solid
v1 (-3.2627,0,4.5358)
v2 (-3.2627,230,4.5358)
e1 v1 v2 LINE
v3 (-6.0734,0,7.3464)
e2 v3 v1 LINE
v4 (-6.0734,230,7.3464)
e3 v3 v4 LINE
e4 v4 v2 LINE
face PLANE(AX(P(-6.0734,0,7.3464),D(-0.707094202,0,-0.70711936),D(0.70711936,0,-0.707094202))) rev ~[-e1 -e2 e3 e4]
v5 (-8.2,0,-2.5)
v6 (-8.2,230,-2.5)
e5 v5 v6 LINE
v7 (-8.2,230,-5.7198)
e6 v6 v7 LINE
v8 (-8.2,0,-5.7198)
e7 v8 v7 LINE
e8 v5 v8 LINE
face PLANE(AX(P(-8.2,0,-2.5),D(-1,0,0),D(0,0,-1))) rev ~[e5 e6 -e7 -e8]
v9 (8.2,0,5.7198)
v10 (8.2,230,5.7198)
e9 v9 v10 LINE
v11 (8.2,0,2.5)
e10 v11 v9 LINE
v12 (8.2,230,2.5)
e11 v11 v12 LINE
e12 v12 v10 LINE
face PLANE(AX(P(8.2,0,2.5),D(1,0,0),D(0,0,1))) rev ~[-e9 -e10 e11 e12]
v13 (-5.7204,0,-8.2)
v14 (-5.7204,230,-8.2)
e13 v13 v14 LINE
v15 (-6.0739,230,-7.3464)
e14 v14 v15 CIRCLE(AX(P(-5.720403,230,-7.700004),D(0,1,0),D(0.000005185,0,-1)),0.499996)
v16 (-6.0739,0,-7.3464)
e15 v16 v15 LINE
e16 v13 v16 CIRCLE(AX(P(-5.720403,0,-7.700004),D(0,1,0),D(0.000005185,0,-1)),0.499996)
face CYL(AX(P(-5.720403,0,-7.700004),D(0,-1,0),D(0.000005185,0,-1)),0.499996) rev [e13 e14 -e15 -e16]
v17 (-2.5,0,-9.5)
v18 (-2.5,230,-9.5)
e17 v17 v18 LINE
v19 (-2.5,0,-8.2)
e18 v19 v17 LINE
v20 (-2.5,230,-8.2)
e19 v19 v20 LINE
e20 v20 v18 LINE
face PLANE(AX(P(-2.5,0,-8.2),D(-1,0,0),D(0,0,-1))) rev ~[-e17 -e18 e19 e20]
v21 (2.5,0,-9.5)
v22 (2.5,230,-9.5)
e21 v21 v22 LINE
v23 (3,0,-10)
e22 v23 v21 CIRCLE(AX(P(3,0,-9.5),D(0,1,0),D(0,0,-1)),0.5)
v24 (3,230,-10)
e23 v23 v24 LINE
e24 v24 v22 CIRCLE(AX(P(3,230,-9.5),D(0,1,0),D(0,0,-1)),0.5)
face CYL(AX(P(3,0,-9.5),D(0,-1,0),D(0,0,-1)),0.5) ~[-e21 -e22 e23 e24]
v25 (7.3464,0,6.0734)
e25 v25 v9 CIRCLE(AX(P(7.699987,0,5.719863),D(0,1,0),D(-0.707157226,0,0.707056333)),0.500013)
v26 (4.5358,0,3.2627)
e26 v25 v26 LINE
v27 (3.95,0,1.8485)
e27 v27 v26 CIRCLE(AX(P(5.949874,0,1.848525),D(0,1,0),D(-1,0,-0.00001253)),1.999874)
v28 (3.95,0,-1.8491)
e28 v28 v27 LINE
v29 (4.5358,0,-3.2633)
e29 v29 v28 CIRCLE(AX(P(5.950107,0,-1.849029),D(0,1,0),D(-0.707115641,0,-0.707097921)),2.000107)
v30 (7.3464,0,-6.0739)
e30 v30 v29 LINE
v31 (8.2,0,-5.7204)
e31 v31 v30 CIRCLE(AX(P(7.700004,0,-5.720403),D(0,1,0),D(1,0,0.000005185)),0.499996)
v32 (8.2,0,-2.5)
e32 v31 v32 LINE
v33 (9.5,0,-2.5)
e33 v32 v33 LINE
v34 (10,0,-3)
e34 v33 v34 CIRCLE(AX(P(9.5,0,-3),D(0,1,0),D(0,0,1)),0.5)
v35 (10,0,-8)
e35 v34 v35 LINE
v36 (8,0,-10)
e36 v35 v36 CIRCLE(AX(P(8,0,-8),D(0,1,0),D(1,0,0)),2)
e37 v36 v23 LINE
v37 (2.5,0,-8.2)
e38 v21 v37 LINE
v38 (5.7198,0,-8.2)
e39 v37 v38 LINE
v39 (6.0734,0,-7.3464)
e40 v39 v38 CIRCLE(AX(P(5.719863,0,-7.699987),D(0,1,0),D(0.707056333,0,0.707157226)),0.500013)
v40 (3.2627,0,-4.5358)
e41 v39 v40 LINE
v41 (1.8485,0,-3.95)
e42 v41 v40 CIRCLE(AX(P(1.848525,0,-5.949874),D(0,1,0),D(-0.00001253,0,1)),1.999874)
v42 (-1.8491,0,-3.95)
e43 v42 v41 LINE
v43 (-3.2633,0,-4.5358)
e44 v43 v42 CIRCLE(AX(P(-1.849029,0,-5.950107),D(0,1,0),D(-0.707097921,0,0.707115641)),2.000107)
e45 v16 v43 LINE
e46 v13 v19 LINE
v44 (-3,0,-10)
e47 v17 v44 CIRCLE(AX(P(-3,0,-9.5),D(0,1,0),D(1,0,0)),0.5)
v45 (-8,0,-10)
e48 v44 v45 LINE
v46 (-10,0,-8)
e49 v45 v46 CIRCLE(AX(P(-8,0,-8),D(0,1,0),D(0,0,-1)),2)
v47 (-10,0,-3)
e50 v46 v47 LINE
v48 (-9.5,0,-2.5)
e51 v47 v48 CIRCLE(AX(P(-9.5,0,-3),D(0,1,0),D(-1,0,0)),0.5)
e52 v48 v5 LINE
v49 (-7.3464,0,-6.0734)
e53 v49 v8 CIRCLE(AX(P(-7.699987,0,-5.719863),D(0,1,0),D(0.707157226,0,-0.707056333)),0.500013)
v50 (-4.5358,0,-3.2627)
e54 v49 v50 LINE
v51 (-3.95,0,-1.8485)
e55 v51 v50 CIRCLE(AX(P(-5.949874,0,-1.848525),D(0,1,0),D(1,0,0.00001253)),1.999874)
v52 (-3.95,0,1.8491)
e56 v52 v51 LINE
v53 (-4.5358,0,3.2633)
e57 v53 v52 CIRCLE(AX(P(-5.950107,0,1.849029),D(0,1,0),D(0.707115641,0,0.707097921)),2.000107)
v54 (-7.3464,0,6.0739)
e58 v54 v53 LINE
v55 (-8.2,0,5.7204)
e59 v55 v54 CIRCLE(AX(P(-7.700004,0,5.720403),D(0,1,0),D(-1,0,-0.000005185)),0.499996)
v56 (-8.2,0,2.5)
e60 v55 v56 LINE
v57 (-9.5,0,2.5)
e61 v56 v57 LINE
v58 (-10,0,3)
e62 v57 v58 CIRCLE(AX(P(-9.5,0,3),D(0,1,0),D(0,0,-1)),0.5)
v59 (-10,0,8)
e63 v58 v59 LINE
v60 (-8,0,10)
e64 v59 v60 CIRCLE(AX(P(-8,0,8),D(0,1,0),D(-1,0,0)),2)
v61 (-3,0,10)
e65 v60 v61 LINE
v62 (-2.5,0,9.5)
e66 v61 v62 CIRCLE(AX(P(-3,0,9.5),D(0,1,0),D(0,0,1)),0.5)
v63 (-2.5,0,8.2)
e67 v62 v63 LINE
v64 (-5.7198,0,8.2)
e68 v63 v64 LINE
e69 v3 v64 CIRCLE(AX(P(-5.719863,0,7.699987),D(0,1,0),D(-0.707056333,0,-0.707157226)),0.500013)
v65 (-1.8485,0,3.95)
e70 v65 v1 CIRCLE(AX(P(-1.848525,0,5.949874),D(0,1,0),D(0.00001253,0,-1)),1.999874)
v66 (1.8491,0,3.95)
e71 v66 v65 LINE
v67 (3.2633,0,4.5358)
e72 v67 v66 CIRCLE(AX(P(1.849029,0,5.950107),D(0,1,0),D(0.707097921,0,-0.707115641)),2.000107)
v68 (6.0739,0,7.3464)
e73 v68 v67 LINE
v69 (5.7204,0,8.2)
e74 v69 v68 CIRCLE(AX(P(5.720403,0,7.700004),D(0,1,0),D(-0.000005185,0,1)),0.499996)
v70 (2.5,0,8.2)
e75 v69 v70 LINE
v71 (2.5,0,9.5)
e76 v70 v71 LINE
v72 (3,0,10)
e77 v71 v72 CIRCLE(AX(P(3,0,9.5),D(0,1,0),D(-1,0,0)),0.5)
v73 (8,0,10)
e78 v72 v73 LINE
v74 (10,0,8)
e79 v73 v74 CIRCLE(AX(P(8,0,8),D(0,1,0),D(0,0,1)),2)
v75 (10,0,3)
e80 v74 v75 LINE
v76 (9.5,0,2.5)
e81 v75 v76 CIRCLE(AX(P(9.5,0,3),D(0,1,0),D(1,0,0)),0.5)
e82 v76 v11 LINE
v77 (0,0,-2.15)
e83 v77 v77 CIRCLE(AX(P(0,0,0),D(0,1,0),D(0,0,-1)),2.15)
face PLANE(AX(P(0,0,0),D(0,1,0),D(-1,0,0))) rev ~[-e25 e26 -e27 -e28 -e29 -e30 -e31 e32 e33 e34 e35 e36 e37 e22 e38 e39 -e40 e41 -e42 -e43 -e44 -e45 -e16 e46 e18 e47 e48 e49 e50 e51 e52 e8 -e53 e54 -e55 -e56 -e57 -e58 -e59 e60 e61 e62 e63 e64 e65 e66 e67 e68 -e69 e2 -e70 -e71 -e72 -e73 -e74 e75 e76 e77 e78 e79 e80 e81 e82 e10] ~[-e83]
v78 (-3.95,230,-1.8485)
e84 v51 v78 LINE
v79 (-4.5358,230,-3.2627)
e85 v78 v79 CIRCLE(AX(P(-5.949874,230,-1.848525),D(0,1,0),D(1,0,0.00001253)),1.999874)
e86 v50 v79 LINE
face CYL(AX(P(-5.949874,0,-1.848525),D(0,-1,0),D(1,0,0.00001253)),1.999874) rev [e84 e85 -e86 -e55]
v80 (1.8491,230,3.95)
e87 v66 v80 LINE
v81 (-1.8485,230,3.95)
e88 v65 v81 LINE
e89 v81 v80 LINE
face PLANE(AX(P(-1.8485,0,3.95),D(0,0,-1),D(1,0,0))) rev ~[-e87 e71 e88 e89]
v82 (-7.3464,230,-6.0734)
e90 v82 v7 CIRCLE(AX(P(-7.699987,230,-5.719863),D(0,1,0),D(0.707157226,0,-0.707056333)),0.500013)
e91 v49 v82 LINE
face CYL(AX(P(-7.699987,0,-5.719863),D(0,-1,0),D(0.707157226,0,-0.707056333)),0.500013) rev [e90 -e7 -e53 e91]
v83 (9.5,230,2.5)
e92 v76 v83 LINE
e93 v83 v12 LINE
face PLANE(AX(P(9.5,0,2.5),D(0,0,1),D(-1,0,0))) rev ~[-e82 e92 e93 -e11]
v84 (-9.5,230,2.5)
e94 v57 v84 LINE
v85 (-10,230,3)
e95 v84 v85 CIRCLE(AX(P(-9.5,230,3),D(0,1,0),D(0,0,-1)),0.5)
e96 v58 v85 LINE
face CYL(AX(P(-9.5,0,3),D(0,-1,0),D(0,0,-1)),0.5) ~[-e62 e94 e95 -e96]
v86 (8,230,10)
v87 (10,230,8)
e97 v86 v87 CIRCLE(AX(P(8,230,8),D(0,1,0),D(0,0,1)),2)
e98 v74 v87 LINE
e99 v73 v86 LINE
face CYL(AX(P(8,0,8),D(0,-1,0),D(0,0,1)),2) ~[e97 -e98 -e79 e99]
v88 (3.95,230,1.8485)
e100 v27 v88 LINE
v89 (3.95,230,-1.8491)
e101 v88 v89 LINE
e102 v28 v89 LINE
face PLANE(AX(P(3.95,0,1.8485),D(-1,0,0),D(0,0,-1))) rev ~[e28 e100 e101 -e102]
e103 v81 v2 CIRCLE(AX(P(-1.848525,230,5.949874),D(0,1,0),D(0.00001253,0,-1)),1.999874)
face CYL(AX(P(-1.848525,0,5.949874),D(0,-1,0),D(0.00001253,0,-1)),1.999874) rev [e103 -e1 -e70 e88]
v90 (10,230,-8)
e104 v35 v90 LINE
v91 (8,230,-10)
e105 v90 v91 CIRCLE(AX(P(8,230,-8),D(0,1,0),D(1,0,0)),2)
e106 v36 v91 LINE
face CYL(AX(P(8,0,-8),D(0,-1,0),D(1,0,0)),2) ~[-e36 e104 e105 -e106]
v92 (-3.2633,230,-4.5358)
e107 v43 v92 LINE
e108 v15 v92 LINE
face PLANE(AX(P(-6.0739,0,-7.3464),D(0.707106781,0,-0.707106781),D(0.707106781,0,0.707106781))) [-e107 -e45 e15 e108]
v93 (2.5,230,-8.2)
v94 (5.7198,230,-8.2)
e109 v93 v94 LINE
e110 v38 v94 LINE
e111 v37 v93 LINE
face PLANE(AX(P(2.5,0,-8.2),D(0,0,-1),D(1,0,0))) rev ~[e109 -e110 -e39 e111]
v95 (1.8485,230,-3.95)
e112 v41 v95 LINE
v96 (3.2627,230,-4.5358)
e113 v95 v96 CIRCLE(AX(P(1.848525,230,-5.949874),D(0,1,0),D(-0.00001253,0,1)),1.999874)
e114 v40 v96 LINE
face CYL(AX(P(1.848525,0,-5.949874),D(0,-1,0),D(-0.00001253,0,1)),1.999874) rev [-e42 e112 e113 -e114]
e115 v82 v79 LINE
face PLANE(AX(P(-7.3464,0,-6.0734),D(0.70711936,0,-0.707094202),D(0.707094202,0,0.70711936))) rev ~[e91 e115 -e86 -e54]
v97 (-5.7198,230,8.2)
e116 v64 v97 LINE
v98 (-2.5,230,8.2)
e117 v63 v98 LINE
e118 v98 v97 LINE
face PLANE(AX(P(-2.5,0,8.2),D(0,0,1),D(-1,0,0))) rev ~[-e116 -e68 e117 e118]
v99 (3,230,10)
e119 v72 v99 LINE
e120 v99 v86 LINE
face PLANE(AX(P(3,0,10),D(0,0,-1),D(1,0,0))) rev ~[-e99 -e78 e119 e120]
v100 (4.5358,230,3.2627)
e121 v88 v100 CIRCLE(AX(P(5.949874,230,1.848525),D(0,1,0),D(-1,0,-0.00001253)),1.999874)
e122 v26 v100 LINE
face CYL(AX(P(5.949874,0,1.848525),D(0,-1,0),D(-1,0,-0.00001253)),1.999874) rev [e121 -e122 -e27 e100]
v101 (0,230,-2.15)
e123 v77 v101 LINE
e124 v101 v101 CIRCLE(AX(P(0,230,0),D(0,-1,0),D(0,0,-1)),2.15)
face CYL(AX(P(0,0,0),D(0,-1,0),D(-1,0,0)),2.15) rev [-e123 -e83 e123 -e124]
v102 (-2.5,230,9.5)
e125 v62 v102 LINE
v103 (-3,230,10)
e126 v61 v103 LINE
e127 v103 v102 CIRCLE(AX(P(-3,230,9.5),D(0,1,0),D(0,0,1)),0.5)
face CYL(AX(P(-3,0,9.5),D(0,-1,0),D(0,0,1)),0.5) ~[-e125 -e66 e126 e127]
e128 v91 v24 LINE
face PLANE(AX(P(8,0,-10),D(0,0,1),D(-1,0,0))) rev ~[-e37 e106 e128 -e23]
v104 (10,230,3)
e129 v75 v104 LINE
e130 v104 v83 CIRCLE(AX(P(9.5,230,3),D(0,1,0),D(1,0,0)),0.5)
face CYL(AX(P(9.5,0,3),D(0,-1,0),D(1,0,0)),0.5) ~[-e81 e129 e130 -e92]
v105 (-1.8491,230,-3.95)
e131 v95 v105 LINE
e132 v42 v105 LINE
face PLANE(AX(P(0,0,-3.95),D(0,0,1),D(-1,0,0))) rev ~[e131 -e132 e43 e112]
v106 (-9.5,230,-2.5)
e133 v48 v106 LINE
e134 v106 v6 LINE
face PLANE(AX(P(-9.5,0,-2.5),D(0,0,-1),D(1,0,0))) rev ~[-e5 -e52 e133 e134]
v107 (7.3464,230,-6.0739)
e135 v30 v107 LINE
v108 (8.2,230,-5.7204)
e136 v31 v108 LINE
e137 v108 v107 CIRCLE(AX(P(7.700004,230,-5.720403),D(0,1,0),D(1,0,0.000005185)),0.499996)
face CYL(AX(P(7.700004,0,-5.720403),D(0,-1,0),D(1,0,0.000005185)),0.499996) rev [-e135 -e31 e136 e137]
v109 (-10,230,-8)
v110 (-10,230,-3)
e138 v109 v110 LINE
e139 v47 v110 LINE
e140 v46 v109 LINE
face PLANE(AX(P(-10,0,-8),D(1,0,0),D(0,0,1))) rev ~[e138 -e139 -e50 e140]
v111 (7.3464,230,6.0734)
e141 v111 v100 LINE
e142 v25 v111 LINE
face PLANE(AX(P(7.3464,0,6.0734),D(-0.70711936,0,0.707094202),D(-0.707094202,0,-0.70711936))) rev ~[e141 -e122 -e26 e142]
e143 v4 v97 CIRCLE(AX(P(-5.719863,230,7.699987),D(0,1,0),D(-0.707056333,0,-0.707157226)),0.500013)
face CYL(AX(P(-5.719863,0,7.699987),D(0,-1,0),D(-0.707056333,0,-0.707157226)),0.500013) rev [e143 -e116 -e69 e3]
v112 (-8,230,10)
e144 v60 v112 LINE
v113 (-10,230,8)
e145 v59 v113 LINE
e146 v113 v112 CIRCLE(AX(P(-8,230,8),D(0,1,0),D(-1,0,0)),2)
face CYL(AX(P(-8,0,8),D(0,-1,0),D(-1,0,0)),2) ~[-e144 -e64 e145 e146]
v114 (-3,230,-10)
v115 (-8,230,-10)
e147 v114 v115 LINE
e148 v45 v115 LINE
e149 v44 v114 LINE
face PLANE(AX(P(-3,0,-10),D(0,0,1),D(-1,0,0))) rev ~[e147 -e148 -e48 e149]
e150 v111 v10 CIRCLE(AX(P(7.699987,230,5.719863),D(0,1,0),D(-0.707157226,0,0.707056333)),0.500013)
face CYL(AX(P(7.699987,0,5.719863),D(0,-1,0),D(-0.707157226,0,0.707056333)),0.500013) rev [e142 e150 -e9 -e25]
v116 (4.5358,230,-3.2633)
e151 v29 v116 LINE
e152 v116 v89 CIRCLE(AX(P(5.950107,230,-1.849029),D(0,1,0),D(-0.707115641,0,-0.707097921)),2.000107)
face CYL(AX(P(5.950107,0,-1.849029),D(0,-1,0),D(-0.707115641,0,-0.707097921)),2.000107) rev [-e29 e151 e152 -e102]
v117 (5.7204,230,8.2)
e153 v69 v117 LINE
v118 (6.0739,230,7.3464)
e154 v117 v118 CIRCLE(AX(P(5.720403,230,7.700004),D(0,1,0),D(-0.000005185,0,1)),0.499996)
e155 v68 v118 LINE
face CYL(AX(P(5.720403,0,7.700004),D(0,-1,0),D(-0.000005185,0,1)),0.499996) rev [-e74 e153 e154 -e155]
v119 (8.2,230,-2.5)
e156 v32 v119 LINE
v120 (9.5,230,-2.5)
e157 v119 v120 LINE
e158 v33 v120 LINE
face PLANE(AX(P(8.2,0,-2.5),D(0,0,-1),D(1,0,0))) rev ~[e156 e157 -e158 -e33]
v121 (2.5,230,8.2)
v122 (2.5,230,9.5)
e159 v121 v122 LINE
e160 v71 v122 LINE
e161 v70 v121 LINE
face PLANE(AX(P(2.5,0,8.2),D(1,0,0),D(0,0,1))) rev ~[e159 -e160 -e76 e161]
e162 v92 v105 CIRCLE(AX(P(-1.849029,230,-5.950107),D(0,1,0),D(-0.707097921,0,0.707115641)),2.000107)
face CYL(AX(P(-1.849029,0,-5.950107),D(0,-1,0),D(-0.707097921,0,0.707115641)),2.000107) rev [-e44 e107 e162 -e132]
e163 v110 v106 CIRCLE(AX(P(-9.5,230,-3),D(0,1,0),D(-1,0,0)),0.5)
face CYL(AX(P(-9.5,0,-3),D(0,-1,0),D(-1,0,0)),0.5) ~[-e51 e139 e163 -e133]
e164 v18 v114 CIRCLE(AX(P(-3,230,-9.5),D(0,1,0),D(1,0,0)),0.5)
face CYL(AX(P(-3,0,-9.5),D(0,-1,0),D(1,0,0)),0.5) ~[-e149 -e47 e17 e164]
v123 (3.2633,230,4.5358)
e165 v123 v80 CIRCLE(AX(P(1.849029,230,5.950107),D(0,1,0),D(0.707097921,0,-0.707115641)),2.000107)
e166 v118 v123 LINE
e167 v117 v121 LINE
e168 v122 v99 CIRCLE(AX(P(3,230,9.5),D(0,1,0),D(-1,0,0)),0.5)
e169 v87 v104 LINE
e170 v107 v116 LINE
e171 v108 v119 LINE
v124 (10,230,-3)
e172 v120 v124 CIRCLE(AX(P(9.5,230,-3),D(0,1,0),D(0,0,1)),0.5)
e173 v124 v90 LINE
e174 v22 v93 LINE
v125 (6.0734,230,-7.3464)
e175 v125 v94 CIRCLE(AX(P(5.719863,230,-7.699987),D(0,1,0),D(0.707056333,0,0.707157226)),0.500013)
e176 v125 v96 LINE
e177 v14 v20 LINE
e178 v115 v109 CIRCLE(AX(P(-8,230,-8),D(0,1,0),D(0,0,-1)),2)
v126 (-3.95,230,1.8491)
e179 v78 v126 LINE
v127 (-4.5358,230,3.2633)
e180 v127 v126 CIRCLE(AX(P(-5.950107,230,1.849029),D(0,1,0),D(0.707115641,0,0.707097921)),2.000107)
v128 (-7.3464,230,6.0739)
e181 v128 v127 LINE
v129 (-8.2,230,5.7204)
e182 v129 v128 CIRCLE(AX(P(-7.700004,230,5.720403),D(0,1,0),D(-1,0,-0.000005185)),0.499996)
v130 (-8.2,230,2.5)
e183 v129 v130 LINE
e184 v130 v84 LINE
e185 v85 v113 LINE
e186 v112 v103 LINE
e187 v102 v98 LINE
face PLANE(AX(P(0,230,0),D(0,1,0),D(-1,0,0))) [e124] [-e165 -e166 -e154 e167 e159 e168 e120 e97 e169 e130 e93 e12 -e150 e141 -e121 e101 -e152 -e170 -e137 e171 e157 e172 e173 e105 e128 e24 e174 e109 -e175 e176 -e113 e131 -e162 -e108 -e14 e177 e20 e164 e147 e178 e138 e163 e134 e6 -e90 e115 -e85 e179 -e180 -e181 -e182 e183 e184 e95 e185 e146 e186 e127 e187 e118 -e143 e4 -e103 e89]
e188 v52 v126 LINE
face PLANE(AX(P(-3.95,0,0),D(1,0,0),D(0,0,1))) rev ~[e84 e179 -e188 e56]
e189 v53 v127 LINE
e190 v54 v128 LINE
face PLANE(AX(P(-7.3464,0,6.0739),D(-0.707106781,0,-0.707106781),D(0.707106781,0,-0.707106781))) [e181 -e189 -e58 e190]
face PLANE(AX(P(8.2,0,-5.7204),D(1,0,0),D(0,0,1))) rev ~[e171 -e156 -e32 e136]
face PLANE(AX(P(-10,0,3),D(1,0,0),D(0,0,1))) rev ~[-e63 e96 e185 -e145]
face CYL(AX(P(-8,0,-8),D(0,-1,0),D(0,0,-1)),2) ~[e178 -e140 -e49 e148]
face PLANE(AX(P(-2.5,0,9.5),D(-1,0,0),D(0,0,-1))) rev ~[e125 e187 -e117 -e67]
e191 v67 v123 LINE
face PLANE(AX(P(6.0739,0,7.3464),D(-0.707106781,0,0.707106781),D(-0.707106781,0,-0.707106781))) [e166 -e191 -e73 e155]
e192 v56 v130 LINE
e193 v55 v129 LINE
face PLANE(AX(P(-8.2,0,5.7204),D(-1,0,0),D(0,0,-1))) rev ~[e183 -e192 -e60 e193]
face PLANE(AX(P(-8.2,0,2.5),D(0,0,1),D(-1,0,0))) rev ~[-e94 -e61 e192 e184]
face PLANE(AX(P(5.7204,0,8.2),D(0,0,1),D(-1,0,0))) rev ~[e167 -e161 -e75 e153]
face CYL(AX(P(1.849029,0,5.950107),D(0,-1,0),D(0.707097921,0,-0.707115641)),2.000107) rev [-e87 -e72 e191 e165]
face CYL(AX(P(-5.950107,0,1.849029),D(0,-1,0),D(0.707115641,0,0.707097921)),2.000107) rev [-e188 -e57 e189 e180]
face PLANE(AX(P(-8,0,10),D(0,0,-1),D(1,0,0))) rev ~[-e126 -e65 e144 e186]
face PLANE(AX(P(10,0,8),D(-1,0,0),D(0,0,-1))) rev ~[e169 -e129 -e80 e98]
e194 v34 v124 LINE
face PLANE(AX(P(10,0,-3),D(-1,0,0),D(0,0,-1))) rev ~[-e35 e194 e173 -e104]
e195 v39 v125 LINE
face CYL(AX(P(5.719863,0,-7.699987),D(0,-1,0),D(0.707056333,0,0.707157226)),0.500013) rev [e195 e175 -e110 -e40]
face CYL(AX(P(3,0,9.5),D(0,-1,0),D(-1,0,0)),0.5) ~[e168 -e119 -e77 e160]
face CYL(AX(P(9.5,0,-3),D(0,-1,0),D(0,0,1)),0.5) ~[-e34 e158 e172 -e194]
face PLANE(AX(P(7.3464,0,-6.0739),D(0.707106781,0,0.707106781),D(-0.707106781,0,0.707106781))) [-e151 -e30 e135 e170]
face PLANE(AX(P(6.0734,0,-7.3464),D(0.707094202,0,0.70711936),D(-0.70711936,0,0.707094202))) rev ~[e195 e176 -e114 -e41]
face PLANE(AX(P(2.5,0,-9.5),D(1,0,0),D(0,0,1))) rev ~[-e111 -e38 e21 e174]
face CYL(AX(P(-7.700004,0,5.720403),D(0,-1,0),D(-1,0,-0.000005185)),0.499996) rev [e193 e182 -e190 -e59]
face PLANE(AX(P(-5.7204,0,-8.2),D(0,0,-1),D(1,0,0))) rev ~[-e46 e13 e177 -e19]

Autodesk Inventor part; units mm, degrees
ref_plane "YZ Plane" through (0, 0, 0) normal (1, 0, 0) x (0, 1, 0)
ref_plane "XZ Plane" through (0, 0, 0) normal (0, 1, 0) x (-1, 0, 0)
ref_plane "XY Plane" through (0, 0, 0) normal (0, 0, 1) x (1, 0, 0)
sketch "Sketch1" plane through (0, 0, 0) normal (0, 1, 0) x (-1, 0, 0)
  line L0 (8, 10) -> (3, 10)
  line L1 (10, 3) -> (10, 8)
  line L2 (2.5, 9.5) -> (2.5, 8.2)
  line L3 (2.5, 8.2) -> (5.7198, 8.2)
  line L4 (6.0734, 7.3464) -> (3.2627, 4.5358)
  line L5 (1.8485, 3.95) -> (0, 3.95)
  line L6 (0, 3.95) -> (0, 2.15)
  line L7 (0, 2.15) -> (0, 2.15)
  line L8 (2.15, 0) -> (2.15, 0)
  line L9 (2.15, 0) -> (3.95, 0)
  line L10 (8.2, 5.7204) -> (8.2, 2.5)
  line L11 (8.2, 2.5) -> (9.5, 2.5)
  line L12 (0, 29.0836) -> (0, -4.1523) construction
  line L13 (3.95, 0) -> (3.95, 1.8491)
  line L14 (7.3464, 6.0739) -> (4.5358, 3.2633)
  arc A0 (10, 8) -> (8, 10) centre (8, 8) ccw
  arc A1 (8.2, 5.7204) -> (7.3464, 6.0739) centre (7.7, 5.7204) ccw
  arc A2 (6.0734, 7.3464) -> (5.7198, 8.2) centre (5.7198, 7.7) ccw
  arc A3 (4.5358, 3.2633) -> (3.95, 1.8491) centre (5.95, 1.8491) ccw
  arc A4 (1.8485, 3.95) -> (3.2627, 4.5358) centre (1.8485, 5.95) ccw
  arc A5 (2.15, 0) -> (0, 2.15) centre (0, 0) ccw
  arc A6 (3, 10) -> (2.5, 9.5) centre (3, 9.5) ccw
  arc A7 (9.5, 2.5) -> (10, 3) centre (9.5, 3) ccw
  line L15 (18.5462, 0) -> (-9.9601, 0) construction
  line L16 (-3, 10) -> (-8, 10)
  arc A8 (-2.5, 9.5) -> (-3, 10) centre (-3, 9.5) ccw
  line L17 (-2.5, 8.2) -> (-2.5, 9.5)
  line L18 (-5.7204, 8.2) -> (-2.5, 8.2)
  arc A9 (-5.7204, 8.2) -> (-6.0739, 7.3464) centre (-5.7204, 7.7) ccw
  line L19 (-6.0739, 7.3464) -> (-3.2633, 4.5358)
  arc A10 (-3.2633, 4.5358) -> (-1.8491, 3.95) centre (-1.8491, 5.95) ccw
  line L20 (0, 3.95) -> (-1.8491, 3.95)
  line L21 (0, 2.15) -> (0, 3.95)
  arc A11 (0, 2.15) -> (-2.15, 0) centre (0, 0) ccw
  line L22 (-3.95, 0) -> (-2.15, 0)
  line L23 (-3.95, 1.8485) -> (-3.95, 0)
  arc A12 (-3.95, 1.8485) -> (-4.5358, 3.2627) centre (-5.95, 1.8485) ccw
  line L24 (-7.3464, 6.0734) -> (-4.5358, 3.2627)
  arc A13 (-7.3464, 6.0734) -> (-8.2, 5.7198) centre (-7.7, 5.7198) ccw
  line L25 (-8.2, 2.5) -> (-8.2, 5.7198)
  line L26 (-9.5, 2.5) -> (-8.2, 2.5)
  arc A14 (-10, 3) -> (-9.5, 2.5) centre (-9.5, 3) ccw
  line L27 (-10, 8) -> (-10, 3)
  arc A15 (-8, 10) -> (-10, 8) centre (-8, 8) ccw
  line L28 (-10, -3) -> (-10, -8)
  arc A16 (-9.5, -2.5) -> (-10, -3) centre (-9.5, -3) ccw
  line L29 (-8.2, -2.5) -> (-9.5, -2.5)
  line L30 (-8.2, -5.7204) -> (-8.2, -2.5)
  arc A17 (-8.2, -5.7204) -> (-7.3464, -6.0739) centre (-7.7, -5.7204) ccw
  line L31 (-7.3464, -6.0739) -> (-4.5358, -3.2633)
  arc A18 (-4.5358, -3.2633) -> (-3.95, -1.8491) centre (-5.95, -1.8491) ccw
  line L32 (-3.95, 0) -> (-3.95, -1.8491)
  line L33 (-2.15, 0) -> (-3.95, 0)
  arc A19 (-2.15, 0) -> (0, -2.15) centre (0, 0) ccw
  line L34 (0, -3.95) -> (0, -2.15)
  line L35 (-1.8485, -3.95) -> (0, -3.95)
  arc A20 (-1.8485, -3.95) -> (-3.2627, -4.5358) centre (-1.8485, -5.95) ccw
  line L36 (-6.0734, -7.3464) -> (-3.2627, -4.5358)
  arc A21 (-6.0734, -7.3464) -> (-5.7198, -8.2) centre (-5.7198, -7.7) ccw
  line L37 (-2.5, -8.2) -> (-5.7198, -8.2)
  line L38 (-2.5, -9.5) -> (-2.5, -8.2)
  arc A22 (-3, -10) -> (-2.5, -9.5) centre (-3, -9.5) ccw
  line L39 (-8, -10) -> (-3, -10)
  arc A23 (-10, -8) -> (-8, -10) centre (-8, -8) ccw
  line L40 (3, -10) -> (8, -10)
  arc A24 (2.5, -9.5) -> (3, -10) centre (3, -9.5) ccw
  line L41 (2.5, -8.2) -> (2.5, -9.5)
  line L42 (5.7204, -8.2) -> (2.5, -8.2)
  arc A25 (5.7204, -8.2) -> (6.0739, -7.3464) centre (5.7204, -7.7) ccw
  line L43 (6.0739, -7.3464) -> (3.2633, -4.5358)
  arc A26 (3.2633, -4.5358) -> (1.8491, -3.95) centre (1.8491, -5.95) ccw
  line L44 (0, -3.95) -> (1.8491, -3.95)
  line L45 (0, -2.15) -> (0, -3.95)
  arc A27 (0, -2.15) -> (2.15, 0) centre (0, 0) ccw
  line L46 (3.95, 0) -> (2.15, 0)
  line L47 (3.95, -1.8485) -> (3.95, 0)
  arc A28 (3.95, -1.8485) -> (4.5358, -3.2627) centre (5.95, -1.8485) ccw
  line L48 (7.3464, -6.0734) -> (4.5358, -3.2627)
  arc A29 (7.3464, -6.0734) -> (8.2, -5.7198) centre (7.7, -5.7198) ccw
  line L49 (8.2, -2.5) -> (8.2, -5.7198)
  line L50 (9.5, -2.5) -> (8.2, -2.5)
  arc A30 (10, -3) -> (9.5, -2.5) centre (9.5, -3) ccw
  line L51 (10, -8) -> (10, -3)
  arc A31 (8, -10) -> (10, -8) centre (8, -8) ccw
  point P0 (0, 0)
  point P1 (3.95, 2.6775)
  point P2 (-2.6775, 3.95)
  point P3 (0, 0)
  point P4 (-3.95, -2.6775)
  point P5 (0, 0)
  point P6 (2.6775, -3.95)
  point P7 (0, 0)
  dimension "d1" = 2.5
  dimension "d2" = 2.5
  dimension "d3" = 1.8
  dimension "d4" = 1.8
  dimension "d5" = 45
  dimension "d6" = 2.15
  dimension "d7" = 2.15
  dimension "d8" = 1.8
  dimension "d11" = 10
  dimension "d12" = 10
  dimension "d14" = 1.8
  dimension "d15" = 1.8
  dimension "d16" = 2.6775
  dimension "d18" = 2
  dimension "d19" = 0.5
  dimension "d20" = 2
  dimension "d21" = 2.15
  dimension "d22" = 0.5
  dimension "d25" = 360
extrude "Profil_20x20" add sketch "Sketch1" along normal blind 230 contours A0 L1 A7 L11 L10 A1 L14 A3 L13 L9 A5 L6 L5 A4 L4 A2 L3 L2 A6 L0 | L6 A11 L22 L23 A12 L24 A13 L25 L26 A14 L27 A15 L16 A8 L17 L18 A9 L19 A10 L20 | L47 A28 L48 A29 L49 L50 A30 L51 A31 L40 A24 L41 L42 A25 L43 A26 L44 L34 A27 L9 | A19 L34 L35 A20 L36 A21 L37 L38 A22 L39 A23 L28 A16 L29 L30 A17 L31 A18 L32 L22
properties part number "Profil_20x20_250"
